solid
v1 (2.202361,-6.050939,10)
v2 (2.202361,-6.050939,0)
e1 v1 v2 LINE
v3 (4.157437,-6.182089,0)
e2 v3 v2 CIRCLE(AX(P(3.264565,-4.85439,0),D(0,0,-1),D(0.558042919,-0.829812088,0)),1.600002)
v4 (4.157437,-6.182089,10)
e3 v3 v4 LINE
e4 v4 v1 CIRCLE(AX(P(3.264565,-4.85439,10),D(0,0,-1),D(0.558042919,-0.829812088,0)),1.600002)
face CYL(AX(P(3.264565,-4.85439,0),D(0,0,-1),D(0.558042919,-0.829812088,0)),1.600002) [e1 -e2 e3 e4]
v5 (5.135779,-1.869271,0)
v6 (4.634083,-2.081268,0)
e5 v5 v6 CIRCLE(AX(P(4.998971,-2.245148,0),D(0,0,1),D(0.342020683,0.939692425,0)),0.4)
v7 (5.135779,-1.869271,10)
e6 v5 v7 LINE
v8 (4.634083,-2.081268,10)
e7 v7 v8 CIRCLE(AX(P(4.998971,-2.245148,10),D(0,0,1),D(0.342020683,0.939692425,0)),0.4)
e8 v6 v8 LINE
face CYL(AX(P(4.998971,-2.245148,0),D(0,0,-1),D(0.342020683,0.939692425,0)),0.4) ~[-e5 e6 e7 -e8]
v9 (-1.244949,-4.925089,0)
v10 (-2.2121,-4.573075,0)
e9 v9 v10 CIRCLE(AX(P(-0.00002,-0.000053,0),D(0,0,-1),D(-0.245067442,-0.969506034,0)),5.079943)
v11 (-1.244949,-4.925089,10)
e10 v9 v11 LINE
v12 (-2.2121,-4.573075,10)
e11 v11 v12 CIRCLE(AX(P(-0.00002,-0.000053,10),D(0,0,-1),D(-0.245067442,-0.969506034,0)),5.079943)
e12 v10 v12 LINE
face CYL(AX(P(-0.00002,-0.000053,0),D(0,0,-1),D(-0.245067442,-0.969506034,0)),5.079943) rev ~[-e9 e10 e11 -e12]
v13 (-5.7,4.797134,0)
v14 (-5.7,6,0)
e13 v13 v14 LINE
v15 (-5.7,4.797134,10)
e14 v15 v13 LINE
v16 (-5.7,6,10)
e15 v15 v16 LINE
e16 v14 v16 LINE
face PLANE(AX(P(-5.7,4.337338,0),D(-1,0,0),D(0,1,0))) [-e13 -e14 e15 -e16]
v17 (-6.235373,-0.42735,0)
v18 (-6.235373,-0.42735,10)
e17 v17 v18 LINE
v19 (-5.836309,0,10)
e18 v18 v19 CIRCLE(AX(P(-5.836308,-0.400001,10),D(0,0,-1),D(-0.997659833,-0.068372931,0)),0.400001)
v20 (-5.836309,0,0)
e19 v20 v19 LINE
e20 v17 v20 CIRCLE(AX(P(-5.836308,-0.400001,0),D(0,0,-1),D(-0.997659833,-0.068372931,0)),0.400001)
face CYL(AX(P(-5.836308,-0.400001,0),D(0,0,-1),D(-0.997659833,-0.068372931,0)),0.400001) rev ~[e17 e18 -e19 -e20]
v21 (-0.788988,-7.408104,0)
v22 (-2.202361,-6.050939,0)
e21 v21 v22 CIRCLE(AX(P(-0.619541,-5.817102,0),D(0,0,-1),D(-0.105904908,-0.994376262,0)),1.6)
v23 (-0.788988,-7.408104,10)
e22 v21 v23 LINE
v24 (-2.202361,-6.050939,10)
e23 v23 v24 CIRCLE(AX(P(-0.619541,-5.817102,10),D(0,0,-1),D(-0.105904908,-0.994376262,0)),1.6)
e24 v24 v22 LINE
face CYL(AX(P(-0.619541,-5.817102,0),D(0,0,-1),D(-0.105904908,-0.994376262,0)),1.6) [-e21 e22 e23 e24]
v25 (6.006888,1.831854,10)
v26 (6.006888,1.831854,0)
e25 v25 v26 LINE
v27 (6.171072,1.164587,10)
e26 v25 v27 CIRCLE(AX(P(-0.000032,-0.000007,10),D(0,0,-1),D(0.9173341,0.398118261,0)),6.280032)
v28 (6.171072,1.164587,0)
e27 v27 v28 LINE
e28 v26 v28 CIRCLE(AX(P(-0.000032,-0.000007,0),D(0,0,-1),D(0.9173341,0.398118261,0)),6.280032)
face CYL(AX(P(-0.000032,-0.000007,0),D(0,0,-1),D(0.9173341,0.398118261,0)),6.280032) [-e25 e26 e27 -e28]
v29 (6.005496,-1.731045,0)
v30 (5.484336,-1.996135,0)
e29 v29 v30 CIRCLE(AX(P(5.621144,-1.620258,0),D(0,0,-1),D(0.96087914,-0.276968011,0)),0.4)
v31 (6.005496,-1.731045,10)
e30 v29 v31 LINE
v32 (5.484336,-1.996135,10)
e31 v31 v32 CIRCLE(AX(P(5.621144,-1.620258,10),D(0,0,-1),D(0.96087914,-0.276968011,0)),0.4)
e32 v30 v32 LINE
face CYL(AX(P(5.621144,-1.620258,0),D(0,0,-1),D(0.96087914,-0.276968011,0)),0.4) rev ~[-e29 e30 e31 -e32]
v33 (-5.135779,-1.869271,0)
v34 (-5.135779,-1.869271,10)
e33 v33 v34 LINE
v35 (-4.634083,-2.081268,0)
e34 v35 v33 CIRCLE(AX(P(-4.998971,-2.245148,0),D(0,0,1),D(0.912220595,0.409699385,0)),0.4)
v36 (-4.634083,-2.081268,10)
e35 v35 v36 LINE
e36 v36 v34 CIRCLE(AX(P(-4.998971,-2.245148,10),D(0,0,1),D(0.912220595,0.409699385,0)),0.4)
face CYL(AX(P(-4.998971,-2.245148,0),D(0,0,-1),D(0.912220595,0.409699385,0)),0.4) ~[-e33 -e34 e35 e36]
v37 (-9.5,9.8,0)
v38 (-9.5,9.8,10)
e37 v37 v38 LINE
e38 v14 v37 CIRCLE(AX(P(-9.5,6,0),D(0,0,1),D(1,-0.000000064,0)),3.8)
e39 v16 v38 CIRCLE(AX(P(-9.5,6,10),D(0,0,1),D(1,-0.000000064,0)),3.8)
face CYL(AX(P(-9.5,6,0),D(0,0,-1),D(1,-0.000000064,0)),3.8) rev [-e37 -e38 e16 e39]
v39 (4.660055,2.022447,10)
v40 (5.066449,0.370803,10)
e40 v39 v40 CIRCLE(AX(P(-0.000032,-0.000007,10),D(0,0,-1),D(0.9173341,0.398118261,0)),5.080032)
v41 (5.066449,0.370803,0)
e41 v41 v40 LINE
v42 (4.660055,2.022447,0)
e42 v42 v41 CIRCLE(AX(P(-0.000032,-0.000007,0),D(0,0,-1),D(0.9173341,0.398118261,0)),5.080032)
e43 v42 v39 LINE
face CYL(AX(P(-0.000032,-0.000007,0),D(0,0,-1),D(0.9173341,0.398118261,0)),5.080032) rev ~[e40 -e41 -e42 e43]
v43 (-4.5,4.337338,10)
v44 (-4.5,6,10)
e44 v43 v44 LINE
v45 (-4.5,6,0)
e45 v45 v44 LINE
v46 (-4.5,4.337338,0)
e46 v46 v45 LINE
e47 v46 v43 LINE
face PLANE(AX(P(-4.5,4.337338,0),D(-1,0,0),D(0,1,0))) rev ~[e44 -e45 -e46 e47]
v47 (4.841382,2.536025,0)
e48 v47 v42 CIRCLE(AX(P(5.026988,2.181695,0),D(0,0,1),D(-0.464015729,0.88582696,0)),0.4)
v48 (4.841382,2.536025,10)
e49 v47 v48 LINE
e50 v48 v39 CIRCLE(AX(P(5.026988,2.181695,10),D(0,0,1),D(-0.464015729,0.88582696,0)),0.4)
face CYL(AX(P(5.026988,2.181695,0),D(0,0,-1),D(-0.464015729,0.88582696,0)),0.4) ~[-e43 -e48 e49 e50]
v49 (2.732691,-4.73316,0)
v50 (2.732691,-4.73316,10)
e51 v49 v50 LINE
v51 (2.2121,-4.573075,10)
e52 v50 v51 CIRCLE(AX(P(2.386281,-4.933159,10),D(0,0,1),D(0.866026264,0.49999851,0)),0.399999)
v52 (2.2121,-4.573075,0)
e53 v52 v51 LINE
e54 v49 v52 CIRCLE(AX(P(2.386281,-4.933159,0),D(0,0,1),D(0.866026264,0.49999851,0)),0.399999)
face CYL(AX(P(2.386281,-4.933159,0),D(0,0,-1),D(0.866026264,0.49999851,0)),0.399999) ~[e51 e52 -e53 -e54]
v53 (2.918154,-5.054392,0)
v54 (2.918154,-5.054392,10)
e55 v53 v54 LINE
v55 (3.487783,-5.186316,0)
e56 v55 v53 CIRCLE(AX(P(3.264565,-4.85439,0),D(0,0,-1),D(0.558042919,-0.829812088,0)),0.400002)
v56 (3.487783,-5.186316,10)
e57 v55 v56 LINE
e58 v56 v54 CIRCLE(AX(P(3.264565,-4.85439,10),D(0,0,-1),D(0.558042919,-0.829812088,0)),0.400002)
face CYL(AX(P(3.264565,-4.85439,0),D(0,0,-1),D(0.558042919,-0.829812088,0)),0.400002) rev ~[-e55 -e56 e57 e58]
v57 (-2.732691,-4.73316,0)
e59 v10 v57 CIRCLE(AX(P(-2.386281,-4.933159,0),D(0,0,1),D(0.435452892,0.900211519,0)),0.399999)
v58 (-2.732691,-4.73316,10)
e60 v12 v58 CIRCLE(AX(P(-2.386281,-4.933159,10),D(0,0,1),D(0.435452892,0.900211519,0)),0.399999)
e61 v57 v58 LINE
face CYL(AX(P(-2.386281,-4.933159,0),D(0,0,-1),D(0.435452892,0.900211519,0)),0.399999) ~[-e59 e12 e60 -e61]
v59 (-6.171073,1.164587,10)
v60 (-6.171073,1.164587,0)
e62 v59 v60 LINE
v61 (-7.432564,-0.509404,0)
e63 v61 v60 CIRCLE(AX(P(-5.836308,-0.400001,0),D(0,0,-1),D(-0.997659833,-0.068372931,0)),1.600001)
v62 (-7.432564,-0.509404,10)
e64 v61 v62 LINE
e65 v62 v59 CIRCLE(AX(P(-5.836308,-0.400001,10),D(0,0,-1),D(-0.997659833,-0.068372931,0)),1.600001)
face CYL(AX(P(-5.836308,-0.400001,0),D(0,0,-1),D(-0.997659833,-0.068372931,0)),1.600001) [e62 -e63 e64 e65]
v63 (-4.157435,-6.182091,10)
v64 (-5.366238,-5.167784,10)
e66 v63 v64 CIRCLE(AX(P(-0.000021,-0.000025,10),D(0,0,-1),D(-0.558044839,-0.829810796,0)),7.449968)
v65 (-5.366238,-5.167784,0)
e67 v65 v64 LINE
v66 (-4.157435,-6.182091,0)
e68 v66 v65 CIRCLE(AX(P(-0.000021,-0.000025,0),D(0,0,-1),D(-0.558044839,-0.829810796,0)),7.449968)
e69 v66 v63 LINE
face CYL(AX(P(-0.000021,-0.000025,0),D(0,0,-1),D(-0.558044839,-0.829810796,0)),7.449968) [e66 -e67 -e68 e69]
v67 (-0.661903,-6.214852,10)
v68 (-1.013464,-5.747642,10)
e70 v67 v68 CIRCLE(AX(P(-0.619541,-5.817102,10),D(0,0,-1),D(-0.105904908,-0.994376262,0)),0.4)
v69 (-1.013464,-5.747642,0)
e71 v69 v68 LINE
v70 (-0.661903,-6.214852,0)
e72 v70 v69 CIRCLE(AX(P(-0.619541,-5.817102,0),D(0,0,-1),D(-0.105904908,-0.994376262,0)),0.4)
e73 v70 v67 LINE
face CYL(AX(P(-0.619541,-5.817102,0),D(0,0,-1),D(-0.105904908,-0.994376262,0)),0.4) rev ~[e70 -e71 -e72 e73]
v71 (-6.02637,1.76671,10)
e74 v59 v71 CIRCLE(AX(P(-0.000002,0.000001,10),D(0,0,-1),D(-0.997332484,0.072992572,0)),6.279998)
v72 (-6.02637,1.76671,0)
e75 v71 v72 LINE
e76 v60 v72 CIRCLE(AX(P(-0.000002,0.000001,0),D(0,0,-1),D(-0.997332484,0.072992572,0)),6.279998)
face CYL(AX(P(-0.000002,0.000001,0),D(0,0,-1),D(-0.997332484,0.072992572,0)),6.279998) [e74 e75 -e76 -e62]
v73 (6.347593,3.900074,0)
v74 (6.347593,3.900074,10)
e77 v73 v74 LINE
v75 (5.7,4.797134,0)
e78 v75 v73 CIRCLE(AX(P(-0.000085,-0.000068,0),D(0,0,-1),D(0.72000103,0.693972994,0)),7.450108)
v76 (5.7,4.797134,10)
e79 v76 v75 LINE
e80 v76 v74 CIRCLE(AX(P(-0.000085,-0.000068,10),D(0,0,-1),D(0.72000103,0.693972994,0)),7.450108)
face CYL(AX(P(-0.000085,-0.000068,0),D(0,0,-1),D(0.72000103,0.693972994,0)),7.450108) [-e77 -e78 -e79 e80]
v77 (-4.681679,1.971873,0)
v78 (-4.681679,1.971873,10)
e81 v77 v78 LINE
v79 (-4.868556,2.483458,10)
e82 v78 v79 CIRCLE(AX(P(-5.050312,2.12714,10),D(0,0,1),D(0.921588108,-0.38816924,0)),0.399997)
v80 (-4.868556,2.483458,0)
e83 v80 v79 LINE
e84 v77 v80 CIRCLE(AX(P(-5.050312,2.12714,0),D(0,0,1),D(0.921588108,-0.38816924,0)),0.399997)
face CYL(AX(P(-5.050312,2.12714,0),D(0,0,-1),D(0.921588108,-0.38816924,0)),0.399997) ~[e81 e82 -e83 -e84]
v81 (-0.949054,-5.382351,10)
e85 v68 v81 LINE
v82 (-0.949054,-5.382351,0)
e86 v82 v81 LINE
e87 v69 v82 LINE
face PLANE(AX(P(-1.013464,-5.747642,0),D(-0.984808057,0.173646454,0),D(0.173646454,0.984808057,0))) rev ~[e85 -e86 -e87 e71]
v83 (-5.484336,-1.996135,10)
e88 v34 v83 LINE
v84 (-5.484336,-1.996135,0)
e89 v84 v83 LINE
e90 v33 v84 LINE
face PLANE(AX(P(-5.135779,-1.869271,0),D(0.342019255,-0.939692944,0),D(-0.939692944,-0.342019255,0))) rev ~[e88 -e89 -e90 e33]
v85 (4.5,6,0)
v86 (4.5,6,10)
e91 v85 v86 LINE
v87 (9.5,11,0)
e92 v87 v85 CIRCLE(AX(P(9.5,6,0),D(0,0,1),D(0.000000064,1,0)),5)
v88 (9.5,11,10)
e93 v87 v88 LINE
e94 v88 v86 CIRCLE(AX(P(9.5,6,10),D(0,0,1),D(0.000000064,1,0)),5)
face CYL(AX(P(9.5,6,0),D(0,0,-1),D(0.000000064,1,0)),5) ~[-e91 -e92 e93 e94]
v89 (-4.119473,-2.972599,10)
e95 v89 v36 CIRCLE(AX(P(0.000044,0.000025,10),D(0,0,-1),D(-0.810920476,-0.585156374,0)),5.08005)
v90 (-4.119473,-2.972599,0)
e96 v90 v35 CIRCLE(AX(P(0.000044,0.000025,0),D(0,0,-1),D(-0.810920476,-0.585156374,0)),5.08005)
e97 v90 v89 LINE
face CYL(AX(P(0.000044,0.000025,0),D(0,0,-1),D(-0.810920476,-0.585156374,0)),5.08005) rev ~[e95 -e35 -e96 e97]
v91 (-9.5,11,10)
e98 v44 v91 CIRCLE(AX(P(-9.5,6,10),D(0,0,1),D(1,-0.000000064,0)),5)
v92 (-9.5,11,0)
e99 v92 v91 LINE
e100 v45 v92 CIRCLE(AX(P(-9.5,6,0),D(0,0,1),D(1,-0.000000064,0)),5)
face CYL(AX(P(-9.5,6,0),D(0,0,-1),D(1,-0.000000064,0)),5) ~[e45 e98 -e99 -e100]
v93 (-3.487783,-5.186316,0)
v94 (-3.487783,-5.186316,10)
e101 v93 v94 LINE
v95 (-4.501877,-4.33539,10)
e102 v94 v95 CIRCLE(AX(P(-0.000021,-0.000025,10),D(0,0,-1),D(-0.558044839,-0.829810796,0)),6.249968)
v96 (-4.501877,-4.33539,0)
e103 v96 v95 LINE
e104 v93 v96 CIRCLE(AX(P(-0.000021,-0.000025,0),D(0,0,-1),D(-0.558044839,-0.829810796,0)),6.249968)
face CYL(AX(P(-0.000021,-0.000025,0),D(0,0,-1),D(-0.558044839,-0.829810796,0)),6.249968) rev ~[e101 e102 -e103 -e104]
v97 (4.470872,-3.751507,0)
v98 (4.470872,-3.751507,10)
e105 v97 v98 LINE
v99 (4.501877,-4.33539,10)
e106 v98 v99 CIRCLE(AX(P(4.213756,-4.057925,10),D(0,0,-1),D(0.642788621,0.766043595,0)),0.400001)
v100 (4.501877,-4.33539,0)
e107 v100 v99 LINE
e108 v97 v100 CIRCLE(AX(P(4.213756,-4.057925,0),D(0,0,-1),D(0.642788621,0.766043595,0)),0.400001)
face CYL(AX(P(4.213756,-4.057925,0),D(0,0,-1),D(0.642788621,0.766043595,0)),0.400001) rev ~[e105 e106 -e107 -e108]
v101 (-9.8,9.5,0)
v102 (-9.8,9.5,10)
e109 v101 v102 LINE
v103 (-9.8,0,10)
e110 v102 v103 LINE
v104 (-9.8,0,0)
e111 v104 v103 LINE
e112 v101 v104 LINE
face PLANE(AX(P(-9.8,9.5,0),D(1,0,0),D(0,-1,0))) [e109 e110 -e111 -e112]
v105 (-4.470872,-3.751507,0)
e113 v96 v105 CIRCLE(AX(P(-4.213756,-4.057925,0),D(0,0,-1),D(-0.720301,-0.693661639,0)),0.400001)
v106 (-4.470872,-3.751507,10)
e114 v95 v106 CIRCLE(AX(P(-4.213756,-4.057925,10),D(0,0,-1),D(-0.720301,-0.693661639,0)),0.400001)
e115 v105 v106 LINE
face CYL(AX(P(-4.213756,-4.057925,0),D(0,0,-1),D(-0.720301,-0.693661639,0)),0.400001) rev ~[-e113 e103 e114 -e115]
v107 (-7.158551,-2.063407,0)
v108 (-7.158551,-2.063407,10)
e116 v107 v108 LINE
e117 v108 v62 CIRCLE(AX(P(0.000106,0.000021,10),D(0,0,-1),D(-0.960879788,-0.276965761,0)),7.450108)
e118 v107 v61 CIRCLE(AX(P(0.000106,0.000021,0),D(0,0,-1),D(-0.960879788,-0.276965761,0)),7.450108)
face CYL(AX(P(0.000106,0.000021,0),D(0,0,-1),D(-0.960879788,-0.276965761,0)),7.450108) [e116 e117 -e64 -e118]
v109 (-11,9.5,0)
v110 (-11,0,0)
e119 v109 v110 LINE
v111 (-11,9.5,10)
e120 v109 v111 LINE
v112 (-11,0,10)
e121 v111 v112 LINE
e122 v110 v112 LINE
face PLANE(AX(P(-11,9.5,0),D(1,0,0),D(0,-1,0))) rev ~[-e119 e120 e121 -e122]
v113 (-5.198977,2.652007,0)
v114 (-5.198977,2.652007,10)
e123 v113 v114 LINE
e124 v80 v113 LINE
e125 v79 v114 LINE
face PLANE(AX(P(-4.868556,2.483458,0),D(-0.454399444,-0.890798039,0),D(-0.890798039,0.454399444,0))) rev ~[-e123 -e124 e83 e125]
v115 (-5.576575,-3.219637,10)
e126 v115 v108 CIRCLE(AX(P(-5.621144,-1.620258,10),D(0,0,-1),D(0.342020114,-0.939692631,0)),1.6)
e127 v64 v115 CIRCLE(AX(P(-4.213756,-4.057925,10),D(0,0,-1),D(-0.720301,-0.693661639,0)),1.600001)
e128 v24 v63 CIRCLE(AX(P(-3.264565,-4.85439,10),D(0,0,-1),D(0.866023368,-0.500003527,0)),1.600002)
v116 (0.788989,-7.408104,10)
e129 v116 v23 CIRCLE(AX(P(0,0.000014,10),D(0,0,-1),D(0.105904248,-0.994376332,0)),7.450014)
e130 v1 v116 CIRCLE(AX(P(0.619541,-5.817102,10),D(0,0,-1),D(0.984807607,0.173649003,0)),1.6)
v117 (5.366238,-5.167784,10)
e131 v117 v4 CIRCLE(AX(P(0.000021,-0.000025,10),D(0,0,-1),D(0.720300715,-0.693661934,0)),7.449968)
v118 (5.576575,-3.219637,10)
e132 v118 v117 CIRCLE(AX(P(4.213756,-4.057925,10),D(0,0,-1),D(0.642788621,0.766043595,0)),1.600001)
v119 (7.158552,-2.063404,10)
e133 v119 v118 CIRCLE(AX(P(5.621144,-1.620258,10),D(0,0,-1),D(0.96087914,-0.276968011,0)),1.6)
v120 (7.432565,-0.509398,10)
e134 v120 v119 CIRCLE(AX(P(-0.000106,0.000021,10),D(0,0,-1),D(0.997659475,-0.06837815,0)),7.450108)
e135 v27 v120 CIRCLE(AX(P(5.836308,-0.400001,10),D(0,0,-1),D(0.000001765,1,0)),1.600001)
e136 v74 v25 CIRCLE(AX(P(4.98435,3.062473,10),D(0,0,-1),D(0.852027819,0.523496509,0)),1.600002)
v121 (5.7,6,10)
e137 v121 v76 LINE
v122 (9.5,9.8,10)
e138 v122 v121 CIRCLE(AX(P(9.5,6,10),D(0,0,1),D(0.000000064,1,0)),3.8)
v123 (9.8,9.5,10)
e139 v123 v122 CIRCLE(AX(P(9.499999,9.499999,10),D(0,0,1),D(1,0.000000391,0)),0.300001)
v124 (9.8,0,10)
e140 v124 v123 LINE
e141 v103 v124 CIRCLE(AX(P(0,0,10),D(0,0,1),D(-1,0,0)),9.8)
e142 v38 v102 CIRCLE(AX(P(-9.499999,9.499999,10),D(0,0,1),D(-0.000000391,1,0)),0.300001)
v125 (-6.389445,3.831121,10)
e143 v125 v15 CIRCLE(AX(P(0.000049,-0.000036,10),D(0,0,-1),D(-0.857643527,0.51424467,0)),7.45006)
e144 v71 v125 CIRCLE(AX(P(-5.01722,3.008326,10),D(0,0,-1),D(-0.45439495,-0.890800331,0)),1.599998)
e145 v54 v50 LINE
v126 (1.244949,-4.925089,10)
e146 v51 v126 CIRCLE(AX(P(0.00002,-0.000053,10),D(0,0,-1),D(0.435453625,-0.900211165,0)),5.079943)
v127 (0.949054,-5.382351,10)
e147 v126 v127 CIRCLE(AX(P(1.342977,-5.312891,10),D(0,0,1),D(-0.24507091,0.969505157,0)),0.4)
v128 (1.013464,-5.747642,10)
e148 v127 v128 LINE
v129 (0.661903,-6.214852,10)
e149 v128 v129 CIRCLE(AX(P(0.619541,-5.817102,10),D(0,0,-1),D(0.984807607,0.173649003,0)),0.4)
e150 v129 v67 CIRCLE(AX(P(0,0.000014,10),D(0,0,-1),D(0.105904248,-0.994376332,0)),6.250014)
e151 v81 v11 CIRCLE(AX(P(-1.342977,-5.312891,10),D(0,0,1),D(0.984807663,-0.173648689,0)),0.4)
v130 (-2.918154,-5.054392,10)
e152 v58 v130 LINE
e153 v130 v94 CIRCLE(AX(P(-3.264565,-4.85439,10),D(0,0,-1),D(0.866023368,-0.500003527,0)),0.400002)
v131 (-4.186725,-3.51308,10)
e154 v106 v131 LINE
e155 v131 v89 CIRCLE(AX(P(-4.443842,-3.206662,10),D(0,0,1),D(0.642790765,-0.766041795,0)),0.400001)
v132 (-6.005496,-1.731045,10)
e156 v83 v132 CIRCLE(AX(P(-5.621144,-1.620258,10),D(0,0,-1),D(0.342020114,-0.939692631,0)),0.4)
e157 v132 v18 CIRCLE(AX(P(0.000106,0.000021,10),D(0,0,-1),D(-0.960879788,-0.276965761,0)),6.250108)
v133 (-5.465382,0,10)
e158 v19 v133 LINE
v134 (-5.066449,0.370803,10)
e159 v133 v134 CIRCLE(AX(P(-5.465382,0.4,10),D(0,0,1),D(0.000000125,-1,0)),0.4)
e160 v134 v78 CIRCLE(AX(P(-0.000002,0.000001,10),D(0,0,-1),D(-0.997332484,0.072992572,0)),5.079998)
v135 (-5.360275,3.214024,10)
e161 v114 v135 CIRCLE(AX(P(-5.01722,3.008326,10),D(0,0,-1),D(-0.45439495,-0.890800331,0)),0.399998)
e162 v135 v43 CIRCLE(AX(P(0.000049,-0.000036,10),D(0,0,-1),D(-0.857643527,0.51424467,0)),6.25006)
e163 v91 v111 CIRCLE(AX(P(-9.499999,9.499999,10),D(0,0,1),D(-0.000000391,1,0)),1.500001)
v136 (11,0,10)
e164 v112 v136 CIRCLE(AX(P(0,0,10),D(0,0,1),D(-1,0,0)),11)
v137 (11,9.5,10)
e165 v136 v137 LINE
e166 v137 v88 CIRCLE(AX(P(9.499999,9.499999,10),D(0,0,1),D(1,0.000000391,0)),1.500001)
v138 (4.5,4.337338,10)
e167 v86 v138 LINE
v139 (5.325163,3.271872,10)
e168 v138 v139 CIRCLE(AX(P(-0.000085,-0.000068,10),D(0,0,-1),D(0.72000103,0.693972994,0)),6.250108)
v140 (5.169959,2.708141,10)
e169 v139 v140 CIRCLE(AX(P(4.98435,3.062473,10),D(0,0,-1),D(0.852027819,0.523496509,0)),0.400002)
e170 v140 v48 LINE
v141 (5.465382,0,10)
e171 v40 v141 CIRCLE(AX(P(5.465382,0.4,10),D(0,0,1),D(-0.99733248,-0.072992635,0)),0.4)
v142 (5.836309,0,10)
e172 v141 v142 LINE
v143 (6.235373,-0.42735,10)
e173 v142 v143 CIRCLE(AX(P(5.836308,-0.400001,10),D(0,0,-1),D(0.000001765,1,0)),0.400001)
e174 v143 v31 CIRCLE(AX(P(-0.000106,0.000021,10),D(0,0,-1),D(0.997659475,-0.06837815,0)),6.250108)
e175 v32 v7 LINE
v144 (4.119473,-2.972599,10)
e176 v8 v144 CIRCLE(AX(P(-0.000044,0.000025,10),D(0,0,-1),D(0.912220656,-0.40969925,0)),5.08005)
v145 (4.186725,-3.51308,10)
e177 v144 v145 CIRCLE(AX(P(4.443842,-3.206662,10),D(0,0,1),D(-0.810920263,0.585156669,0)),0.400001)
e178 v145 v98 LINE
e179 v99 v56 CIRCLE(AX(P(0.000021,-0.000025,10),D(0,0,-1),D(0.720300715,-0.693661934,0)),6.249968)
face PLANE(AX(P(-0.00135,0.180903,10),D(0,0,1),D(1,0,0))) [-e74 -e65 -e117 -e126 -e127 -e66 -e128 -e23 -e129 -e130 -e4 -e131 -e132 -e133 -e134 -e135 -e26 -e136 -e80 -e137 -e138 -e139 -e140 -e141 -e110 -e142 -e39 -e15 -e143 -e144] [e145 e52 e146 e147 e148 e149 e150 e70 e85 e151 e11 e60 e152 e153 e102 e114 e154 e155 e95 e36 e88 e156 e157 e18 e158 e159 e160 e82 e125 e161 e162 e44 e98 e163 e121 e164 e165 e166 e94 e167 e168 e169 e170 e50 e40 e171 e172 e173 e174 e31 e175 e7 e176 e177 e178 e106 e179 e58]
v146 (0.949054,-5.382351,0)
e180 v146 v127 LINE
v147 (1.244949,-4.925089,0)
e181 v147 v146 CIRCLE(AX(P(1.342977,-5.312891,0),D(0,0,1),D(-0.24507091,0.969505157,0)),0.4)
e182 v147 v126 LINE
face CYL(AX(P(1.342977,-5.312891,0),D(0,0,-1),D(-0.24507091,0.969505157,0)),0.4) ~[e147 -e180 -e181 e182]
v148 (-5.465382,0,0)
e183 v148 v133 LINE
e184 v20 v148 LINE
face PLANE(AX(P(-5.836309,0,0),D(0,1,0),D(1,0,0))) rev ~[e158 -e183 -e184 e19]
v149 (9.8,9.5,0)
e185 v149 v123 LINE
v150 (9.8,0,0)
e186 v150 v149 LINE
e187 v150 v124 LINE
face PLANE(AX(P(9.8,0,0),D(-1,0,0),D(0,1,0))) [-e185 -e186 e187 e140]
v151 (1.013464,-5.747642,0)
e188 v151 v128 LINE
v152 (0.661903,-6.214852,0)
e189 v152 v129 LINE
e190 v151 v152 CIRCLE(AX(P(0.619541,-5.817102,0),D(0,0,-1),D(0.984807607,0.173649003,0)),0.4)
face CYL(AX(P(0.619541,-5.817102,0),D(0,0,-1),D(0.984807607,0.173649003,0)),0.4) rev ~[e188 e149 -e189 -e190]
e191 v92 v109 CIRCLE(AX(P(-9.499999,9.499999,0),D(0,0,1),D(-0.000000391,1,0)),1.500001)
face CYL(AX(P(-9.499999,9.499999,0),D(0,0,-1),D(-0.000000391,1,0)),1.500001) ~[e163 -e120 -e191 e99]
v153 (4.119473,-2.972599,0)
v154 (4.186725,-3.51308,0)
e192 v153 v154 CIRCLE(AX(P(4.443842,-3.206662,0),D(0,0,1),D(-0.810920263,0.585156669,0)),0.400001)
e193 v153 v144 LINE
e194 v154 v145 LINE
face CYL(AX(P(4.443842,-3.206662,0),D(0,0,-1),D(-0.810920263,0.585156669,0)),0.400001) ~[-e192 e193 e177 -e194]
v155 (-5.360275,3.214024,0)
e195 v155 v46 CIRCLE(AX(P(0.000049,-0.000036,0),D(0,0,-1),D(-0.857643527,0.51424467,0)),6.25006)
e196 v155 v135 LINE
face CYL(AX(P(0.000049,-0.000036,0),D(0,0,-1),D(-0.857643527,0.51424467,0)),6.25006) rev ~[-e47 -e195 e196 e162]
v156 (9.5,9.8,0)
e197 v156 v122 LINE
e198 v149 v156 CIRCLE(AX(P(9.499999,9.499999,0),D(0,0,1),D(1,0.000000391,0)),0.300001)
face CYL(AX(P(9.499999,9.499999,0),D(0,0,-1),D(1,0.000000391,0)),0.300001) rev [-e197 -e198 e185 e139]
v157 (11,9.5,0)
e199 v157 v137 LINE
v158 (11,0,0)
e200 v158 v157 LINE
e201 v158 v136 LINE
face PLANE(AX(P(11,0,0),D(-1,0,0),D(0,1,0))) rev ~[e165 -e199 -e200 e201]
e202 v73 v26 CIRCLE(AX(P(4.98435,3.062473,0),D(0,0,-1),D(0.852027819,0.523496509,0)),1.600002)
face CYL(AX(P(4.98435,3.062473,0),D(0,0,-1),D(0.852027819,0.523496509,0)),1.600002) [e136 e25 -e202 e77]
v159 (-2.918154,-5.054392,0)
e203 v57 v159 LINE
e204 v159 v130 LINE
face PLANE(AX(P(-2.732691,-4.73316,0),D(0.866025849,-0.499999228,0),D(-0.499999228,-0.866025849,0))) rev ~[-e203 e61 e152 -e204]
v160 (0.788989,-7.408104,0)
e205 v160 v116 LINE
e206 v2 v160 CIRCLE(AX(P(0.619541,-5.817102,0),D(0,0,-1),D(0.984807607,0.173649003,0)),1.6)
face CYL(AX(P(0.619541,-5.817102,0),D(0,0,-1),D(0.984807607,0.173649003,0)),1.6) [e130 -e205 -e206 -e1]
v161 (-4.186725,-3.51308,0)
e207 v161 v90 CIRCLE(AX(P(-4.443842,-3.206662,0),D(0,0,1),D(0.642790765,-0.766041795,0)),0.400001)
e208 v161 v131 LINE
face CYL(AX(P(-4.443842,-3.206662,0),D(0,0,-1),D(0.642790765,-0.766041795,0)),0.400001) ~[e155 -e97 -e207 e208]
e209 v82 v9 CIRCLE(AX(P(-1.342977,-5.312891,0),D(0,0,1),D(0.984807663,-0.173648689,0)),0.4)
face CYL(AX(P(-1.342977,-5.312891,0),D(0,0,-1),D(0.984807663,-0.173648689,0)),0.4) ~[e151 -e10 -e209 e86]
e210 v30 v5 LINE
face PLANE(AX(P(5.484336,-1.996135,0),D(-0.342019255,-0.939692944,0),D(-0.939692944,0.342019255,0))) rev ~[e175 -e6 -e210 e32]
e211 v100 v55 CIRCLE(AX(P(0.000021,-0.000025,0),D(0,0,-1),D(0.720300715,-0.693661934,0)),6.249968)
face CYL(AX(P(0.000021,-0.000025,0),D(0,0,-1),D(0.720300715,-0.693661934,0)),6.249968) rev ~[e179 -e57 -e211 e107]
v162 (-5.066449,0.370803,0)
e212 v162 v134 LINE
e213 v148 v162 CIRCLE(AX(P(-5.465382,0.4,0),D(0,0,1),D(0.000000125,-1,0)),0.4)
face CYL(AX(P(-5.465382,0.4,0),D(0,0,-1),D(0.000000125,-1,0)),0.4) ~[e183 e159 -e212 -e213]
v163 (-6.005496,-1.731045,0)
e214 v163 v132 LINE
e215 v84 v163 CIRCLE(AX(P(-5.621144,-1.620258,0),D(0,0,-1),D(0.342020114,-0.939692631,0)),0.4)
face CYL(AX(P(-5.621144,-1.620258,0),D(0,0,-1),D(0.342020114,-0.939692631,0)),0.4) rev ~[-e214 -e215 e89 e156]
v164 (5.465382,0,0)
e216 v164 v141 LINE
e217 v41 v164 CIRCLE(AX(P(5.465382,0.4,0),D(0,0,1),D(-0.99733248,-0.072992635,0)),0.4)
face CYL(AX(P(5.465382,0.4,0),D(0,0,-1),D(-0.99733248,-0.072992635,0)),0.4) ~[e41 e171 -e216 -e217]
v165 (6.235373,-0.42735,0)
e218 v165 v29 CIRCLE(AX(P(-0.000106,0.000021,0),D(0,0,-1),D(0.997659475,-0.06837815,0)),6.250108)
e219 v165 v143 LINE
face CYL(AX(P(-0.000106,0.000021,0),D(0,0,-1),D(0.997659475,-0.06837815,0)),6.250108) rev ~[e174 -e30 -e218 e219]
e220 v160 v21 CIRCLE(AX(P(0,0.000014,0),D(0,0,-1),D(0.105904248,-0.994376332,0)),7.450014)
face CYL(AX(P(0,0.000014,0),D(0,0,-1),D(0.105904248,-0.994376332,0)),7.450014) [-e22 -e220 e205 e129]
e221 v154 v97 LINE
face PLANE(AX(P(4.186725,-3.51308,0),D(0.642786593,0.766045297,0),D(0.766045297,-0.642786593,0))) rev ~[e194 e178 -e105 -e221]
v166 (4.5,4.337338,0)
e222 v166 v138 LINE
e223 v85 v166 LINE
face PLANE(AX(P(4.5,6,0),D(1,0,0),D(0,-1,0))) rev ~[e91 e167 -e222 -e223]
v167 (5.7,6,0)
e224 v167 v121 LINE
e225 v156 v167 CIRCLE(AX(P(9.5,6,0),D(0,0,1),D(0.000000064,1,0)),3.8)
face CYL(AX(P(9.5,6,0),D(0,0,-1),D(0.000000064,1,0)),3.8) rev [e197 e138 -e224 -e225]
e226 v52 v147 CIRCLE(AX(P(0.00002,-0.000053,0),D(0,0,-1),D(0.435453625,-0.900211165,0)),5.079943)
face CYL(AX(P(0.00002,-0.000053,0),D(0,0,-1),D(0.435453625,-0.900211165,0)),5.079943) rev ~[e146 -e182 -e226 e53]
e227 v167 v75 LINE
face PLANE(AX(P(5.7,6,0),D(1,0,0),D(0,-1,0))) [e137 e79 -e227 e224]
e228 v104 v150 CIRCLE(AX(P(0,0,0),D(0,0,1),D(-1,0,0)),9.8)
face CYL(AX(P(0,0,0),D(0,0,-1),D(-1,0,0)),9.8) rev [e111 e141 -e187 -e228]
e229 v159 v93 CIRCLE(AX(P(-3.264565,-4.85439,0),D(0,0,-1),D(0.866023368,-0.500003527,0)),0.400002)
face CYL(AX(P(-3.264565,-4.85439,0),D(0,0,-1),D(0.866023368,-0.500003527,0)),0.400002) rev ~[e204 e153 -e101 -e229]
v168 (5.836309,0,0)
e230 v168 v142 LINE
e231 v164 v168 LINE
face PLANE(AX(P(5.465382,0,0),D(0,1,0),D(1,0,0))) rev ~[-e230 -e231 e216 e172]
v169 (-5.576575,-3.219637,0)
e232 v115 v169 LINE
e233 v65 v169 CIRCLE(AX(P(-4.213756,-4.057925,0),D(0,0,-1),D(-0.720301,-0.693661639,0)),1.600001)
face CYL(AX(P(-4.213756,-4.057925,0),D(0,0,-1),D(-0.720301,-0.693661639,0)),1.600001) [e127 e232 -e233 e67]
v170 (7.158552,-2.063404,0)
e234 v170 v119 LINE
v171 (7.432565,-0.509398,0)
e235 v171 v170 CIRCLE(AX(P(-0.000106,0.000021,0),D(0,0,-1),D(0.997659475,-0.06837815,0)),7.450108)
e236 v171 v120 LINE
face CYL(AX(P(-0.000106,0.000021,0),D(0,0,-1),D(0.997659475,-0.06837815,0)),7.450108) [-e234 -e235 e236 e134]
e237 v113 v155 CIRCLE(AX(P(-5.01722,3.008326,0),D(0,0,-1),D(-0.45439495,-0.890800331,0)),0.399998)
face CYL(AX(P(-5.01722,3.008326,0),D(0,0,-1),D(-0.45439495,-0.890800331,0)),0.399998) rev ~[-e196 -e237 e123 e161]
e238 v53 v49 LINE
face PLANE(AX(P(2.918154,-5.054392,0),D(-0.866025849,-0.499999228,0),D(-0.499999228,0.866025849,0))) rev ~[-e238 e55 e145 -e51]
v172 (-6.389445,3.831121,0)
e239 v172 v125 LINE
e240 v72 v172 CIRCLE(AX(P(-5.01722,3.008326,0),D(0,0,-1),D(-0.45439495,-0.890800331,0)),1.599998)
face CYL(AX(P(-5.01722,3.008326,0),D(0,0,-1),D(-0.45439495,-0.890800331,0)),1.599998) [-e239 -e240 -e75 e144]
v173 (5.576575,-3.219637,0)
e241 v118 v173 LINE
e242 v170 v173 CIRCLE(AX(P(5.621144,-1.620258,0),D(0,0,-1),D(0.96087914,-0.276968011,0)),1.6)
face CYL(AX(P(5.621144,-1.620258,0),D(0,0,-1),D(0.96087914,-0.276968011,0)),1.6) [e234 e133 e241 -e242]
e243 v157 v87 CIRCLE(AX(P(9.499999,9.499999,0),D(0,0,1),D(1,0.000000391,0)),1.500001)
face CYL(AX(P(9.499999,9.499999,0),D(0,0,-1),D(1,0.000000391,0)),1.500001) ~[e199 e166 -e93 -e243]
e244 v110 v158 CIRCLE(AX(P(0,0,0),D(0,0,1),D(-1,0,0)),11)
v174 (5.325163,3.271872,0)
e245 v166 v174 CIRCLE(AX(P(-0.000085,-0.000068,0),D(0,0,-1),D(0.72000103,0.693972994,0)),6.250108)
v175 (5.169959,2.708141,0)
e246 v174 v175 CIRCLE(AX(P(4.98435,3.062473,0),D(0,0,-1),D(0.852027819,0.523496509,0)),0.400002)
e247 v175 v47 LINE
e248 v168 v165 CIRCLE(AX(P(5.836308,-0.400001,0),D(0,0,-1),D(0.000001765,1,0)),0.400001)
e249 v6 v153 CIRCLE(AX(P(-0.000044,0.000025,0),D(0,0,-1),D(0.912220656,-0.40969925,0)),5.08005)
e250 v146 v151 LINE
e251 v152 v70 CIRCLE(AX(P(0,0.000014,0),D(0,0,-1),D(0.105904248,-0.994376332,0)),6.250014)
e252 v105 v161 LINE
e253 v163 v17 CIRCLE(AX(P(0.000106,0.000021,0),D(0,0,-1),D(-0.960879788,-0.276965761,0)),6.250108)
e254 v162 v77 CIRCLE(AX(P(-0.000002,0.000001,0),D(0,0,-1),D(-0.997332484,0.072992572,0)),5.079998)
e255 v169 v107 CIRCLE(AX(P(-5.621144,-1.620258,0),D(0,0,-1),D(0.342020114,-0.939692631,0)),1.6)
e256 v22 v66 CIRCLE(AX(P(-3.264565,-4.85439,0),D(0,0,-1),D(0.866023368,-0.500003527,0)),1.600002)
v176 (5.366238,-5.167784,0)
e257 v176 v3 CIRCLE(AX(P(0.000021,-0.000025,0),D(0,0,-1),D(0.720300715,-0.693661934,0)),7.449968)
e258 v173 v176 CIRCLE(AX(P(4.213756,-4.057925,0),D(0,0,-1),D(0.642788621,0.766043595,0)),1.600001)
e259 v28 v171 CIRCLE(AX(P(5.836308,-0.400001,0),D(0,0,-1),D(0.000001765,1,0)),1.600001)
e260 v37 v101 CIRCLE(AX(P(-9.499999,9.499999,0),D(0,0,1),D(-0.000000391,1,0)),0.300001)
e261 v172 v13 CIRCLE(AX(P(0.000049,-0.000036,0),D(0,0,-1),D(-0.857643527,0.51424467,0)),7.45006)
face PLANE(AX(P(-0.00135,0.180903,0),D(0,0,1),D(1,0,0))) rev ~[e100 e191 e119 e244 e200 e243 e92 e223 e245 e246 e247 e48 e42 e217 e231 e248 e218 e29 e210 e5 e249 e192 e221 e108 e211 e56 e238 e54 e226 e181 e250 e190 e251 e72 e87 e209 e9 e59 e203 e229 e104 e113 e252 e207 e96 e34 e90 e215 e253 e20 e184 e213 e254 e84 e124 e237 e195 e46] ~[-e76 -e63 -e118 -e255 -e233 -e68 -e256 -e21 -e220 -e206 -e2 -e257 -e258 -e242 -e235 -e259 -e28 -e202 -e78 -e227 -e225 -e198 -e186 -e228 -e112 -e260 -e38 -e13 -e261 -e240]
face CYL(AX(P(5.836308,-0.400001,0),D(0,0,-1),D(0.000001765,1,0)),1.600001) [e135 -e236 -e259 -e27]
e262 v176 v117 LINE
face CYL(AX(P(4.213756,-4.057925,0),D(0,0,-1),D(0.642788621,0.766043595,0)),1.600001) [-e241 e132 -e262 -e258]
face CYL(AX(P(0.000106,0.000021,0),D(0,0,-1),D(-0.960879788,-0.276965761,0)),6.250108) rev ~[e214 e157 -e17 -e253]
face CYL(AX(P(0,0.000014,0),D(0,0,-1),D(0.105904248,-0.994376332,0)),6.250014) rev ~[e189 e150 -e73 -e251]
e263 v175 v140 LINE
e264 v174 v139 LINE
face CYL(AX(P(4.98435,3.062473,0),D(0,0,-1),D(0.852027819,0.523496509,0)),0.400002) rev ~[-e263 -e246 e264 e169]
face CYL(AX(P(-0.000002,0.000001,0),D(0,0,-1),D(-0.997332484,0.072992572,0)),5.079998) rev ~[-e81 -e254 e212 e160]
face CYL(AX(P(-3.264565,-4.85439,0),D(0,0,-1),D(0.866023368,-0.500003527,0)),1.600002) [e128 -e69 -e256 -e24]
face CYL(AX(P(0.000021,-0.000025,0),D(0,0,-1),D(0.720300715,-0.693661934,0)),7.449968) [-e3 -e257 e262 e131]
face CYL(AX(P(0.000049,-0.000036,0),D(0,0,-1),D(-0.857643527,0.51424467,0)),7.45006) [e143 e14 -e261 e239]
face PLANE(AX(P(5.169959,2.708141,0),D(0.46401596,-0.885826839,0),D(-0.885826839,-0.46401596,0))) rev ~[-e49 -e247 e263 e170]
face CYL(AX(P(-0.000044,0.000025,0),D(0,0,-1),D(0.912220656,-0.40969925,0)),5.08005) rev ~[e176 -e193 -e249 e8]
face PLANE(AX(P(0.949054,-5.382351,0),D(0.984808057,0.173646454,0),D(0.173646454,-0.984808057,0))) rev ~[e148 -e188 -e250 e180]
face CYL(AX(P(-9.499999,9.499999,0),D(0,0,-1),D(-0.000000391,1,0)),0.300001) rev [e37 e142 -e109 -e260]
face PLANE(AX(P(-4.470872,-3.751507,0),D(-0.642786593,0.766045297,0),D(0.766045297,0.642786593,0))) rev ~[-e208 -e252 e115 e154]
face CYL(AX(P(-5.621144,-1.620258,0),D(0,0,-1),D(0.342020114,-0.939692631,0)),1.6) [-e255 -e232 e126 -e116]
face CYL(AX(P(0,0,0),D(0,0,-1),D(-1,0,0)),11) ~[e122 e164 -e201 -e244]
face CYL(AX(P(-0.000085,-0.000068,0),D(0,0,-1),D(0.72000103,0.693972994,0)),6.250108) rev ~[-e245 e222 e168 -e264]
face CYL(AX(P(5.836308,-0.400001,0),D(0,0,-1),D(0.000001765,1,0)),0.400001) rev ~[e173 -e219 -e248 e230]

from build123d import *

# Parameters (mm, degrees)
F1_DEPTH = 10
F2_T     = -1.2


with BuildPart() as f1:
    # F0 (on Top) → F1 (new body)
    with BuildSketch(Plane.XY):
        with BuildLine():
            ThreePointArc((-5.066449, 0.370803), (-4.939368, 1.187032), (-4.681679, 1.971873))
            ThreePointArc((-4.681679, 1.971873), (-4.674597, 2.264385), (-4.868556, 2.483458))
            Line((-4.868556, 2.483458), (-5.198977, 2.652007))
            ThreePointArc((-5.198977, 2.652007), (-5.401697, 2.897981), (-5.360275, 3.214024))
            ThreePointArc((-5.360275, 3.214024), (-4.962027, 3.800103), (-4.5, 4.337338))
            Line((-4.5, 4.337338), (-4.5, 6))
            ThreePointArc((-4.5, 6), (-5.964466, 9.535534), (-9.5, 11))
            ThreePointArc((-9.5, 11), (-10.56066, 10.56066), (-11, 9.5))
            Line((-11, 9.5), (-11, 0))
            ThreePointArc((-11, 0), (0, -11), (11, 0))
            Line((11, 0), (11, 9.5))
            ThreePointArc((11, 9.5), (10.56066, 10.56066), (9.5, 11))
            ThreePointArc((9.5, 11), (5.964466, 9.535534), (4.5, 6))
            Line((4.5, 6), (4.5, 4.337338))
            ThreePointArc((4.5, 4.337338), (4.941382, 3.82691), (5.325163, 3.271872))
            ThreePointArc((5.325163, 3.271872), (5.370003, 2.956296), (5.169959, 2.708141))
            Line((5.169959, 2.708141), (4.841382, 2.536025))
            ThreePointArc((4.841382, 2.536025), (4.649807, 2.314864), (4.660055, 2.022447))
            ThreePointArc((4.660055, 2.022447), (4.932869, 1.213755), (5.066449, 0.370803))
            ThreePointArc((5.066449, 0.370803), (5.193058, 0.107016), (5.465382, 0))
            Line((5.465382, 0), (5.836309, 0))
            ThreePointArc((5.836309, 0), (6.128661, -0.126998), (6.235373, -0.42735))
            ThreePointArc((6.235373, -0.42735), (6.155048, -1.085301), (6.005496, -1.731045))
            ThreePointArc((6.005496, -1.731045), (5.802494, -1.976786), (5.484336, -1.996135))
            Line((5.484336, -1.996135), (5.135779, -1.869271))
            ThreePointArc((5.135779, -1.869271), (4.843276, -1.876693), (4.634083, -2.081268))
            ThreePointArc((4.634083, -2.081268), (4.399409, -2.54), (4.119473, -2.972599))
            ThreePointArc((4.119473, -2.972599), (4.046902, -3.256054), (4.186725, -3.51308))
            Line((4.186725, -3.51308), (4.470872, -3.751507))
            ThreePointArc((4.470872, -3.751507), (4.613194, -4.036714), (4.501877, -4.33539))
            ThreePointArc((4.501877, -4.33539), (4.017423, -4.787778), (3.487783, -5.186316))
            ThreePointArc((3.487783, -5.186316), (3.174314, -5.244077), (2.918154, -5.054392))
            Line((2.918154, -5.054392), (2.732691, -4.73316))
            ThreePointArc((2.732691, -4.73316), (2.50385, -4.550828), (2.2121, -4.573075))
            ThreePointArc((2.2121, -4.573075), (1.737462, -4.773639), (1.244949, -4.925089))
            ThreePointArc((1.244949, -4.925089), (1.007156, -5.09558), (0.949054, -5.382351))
            Line((0.949054, -5.382351), (1.013464, -5.747642))
            ThreePointArc((1.013464, -5.747642), (0.939162, -6.057606), (0.661903, -6.214852))
            ThreePointArc((0.661903, -6.214852), (0, -6.25), (-0.661903, -6.214852))
            ThreePointArc((-0.661903, -6.214852), (-0.939162, -6.057606), (-1.013464, -5.747642))
            Line((-1.013464, -5.747642), (-0.949054, -5.382351))
            ThreePointArc((-0.949054, -5.382351), (-1.007156, -5.09558), (-1.244949, -4.925089))
            ThreePointArc((-1.244949, -4.925089), (-1.737462, -4.773639), (-2.2121, -4.573075))
            ThreePointArc((-2.2121, -4.573075), (-2.50385, -4.550828), (-2.732691, -4.73316))
            Line((-2.732691, -4.73316), (-2.918154, -5.054392))
            ThreePointArc((-2.918154, -5.054392), (-3.174314, -5.244077), (-3.487783, -5.186316))
            ThreePointArc((-3.487783, -5.186316), (-4.017423, -4.787778), (-4.501877, -4.33539))
            ThreePointArc((-4.501877, -4.33539), (-4.613194, -4.036714), (-4.470872, -3.751507))
            Line((-4.470872, -3.751507), (-4.186725, -3.51308))
            ThreePointArc((-4.186725, -3.51308), (-4.046902, -3.256054), (-4.119473, -2.972599))
            ThreePointArc((-4.119473, -2.972599), (-4.399409, -2.54), (-4.634083, -2.081268))
            ThreePointArc((-4.634083, -2.081268), (-4.843276, -1.876693), (-5.135779, -1.869271))
            Line((-5.135779, -1.869271), (-5.484336, -1.996135))
            ThreePointArc((-5.484336, -1.996135), (-5.802494, -1.976786), (-6.005496, -1.731045))
            ThreePointArc((-6.005496, -1.731045), (-6.155048, -1.085301), (-6.235373, -0.42735))
            ThreePointArc((-6.235373, -0.42735), (-6.128661, -0.126998), (-5.836309, 0))
            Line((-5.836309, 0), (-5.465382, 0))
            ThreePointArc((-5.465382, 0), (-5.193058, 0.107016), (-5.066449, 0.370803))
        make_face()
    extrude(amount=F1_DEPTH)

    # F2
    f2_openings = [f1.faces().sort_by_distance(p)[0] for p in [
        (-1.187768, -6.244675, 10),
        (-1.187768, -6.244675, 0),
    ]]
    offset(amount=F2_T, openings=f2_openings)


solid = f1.part
